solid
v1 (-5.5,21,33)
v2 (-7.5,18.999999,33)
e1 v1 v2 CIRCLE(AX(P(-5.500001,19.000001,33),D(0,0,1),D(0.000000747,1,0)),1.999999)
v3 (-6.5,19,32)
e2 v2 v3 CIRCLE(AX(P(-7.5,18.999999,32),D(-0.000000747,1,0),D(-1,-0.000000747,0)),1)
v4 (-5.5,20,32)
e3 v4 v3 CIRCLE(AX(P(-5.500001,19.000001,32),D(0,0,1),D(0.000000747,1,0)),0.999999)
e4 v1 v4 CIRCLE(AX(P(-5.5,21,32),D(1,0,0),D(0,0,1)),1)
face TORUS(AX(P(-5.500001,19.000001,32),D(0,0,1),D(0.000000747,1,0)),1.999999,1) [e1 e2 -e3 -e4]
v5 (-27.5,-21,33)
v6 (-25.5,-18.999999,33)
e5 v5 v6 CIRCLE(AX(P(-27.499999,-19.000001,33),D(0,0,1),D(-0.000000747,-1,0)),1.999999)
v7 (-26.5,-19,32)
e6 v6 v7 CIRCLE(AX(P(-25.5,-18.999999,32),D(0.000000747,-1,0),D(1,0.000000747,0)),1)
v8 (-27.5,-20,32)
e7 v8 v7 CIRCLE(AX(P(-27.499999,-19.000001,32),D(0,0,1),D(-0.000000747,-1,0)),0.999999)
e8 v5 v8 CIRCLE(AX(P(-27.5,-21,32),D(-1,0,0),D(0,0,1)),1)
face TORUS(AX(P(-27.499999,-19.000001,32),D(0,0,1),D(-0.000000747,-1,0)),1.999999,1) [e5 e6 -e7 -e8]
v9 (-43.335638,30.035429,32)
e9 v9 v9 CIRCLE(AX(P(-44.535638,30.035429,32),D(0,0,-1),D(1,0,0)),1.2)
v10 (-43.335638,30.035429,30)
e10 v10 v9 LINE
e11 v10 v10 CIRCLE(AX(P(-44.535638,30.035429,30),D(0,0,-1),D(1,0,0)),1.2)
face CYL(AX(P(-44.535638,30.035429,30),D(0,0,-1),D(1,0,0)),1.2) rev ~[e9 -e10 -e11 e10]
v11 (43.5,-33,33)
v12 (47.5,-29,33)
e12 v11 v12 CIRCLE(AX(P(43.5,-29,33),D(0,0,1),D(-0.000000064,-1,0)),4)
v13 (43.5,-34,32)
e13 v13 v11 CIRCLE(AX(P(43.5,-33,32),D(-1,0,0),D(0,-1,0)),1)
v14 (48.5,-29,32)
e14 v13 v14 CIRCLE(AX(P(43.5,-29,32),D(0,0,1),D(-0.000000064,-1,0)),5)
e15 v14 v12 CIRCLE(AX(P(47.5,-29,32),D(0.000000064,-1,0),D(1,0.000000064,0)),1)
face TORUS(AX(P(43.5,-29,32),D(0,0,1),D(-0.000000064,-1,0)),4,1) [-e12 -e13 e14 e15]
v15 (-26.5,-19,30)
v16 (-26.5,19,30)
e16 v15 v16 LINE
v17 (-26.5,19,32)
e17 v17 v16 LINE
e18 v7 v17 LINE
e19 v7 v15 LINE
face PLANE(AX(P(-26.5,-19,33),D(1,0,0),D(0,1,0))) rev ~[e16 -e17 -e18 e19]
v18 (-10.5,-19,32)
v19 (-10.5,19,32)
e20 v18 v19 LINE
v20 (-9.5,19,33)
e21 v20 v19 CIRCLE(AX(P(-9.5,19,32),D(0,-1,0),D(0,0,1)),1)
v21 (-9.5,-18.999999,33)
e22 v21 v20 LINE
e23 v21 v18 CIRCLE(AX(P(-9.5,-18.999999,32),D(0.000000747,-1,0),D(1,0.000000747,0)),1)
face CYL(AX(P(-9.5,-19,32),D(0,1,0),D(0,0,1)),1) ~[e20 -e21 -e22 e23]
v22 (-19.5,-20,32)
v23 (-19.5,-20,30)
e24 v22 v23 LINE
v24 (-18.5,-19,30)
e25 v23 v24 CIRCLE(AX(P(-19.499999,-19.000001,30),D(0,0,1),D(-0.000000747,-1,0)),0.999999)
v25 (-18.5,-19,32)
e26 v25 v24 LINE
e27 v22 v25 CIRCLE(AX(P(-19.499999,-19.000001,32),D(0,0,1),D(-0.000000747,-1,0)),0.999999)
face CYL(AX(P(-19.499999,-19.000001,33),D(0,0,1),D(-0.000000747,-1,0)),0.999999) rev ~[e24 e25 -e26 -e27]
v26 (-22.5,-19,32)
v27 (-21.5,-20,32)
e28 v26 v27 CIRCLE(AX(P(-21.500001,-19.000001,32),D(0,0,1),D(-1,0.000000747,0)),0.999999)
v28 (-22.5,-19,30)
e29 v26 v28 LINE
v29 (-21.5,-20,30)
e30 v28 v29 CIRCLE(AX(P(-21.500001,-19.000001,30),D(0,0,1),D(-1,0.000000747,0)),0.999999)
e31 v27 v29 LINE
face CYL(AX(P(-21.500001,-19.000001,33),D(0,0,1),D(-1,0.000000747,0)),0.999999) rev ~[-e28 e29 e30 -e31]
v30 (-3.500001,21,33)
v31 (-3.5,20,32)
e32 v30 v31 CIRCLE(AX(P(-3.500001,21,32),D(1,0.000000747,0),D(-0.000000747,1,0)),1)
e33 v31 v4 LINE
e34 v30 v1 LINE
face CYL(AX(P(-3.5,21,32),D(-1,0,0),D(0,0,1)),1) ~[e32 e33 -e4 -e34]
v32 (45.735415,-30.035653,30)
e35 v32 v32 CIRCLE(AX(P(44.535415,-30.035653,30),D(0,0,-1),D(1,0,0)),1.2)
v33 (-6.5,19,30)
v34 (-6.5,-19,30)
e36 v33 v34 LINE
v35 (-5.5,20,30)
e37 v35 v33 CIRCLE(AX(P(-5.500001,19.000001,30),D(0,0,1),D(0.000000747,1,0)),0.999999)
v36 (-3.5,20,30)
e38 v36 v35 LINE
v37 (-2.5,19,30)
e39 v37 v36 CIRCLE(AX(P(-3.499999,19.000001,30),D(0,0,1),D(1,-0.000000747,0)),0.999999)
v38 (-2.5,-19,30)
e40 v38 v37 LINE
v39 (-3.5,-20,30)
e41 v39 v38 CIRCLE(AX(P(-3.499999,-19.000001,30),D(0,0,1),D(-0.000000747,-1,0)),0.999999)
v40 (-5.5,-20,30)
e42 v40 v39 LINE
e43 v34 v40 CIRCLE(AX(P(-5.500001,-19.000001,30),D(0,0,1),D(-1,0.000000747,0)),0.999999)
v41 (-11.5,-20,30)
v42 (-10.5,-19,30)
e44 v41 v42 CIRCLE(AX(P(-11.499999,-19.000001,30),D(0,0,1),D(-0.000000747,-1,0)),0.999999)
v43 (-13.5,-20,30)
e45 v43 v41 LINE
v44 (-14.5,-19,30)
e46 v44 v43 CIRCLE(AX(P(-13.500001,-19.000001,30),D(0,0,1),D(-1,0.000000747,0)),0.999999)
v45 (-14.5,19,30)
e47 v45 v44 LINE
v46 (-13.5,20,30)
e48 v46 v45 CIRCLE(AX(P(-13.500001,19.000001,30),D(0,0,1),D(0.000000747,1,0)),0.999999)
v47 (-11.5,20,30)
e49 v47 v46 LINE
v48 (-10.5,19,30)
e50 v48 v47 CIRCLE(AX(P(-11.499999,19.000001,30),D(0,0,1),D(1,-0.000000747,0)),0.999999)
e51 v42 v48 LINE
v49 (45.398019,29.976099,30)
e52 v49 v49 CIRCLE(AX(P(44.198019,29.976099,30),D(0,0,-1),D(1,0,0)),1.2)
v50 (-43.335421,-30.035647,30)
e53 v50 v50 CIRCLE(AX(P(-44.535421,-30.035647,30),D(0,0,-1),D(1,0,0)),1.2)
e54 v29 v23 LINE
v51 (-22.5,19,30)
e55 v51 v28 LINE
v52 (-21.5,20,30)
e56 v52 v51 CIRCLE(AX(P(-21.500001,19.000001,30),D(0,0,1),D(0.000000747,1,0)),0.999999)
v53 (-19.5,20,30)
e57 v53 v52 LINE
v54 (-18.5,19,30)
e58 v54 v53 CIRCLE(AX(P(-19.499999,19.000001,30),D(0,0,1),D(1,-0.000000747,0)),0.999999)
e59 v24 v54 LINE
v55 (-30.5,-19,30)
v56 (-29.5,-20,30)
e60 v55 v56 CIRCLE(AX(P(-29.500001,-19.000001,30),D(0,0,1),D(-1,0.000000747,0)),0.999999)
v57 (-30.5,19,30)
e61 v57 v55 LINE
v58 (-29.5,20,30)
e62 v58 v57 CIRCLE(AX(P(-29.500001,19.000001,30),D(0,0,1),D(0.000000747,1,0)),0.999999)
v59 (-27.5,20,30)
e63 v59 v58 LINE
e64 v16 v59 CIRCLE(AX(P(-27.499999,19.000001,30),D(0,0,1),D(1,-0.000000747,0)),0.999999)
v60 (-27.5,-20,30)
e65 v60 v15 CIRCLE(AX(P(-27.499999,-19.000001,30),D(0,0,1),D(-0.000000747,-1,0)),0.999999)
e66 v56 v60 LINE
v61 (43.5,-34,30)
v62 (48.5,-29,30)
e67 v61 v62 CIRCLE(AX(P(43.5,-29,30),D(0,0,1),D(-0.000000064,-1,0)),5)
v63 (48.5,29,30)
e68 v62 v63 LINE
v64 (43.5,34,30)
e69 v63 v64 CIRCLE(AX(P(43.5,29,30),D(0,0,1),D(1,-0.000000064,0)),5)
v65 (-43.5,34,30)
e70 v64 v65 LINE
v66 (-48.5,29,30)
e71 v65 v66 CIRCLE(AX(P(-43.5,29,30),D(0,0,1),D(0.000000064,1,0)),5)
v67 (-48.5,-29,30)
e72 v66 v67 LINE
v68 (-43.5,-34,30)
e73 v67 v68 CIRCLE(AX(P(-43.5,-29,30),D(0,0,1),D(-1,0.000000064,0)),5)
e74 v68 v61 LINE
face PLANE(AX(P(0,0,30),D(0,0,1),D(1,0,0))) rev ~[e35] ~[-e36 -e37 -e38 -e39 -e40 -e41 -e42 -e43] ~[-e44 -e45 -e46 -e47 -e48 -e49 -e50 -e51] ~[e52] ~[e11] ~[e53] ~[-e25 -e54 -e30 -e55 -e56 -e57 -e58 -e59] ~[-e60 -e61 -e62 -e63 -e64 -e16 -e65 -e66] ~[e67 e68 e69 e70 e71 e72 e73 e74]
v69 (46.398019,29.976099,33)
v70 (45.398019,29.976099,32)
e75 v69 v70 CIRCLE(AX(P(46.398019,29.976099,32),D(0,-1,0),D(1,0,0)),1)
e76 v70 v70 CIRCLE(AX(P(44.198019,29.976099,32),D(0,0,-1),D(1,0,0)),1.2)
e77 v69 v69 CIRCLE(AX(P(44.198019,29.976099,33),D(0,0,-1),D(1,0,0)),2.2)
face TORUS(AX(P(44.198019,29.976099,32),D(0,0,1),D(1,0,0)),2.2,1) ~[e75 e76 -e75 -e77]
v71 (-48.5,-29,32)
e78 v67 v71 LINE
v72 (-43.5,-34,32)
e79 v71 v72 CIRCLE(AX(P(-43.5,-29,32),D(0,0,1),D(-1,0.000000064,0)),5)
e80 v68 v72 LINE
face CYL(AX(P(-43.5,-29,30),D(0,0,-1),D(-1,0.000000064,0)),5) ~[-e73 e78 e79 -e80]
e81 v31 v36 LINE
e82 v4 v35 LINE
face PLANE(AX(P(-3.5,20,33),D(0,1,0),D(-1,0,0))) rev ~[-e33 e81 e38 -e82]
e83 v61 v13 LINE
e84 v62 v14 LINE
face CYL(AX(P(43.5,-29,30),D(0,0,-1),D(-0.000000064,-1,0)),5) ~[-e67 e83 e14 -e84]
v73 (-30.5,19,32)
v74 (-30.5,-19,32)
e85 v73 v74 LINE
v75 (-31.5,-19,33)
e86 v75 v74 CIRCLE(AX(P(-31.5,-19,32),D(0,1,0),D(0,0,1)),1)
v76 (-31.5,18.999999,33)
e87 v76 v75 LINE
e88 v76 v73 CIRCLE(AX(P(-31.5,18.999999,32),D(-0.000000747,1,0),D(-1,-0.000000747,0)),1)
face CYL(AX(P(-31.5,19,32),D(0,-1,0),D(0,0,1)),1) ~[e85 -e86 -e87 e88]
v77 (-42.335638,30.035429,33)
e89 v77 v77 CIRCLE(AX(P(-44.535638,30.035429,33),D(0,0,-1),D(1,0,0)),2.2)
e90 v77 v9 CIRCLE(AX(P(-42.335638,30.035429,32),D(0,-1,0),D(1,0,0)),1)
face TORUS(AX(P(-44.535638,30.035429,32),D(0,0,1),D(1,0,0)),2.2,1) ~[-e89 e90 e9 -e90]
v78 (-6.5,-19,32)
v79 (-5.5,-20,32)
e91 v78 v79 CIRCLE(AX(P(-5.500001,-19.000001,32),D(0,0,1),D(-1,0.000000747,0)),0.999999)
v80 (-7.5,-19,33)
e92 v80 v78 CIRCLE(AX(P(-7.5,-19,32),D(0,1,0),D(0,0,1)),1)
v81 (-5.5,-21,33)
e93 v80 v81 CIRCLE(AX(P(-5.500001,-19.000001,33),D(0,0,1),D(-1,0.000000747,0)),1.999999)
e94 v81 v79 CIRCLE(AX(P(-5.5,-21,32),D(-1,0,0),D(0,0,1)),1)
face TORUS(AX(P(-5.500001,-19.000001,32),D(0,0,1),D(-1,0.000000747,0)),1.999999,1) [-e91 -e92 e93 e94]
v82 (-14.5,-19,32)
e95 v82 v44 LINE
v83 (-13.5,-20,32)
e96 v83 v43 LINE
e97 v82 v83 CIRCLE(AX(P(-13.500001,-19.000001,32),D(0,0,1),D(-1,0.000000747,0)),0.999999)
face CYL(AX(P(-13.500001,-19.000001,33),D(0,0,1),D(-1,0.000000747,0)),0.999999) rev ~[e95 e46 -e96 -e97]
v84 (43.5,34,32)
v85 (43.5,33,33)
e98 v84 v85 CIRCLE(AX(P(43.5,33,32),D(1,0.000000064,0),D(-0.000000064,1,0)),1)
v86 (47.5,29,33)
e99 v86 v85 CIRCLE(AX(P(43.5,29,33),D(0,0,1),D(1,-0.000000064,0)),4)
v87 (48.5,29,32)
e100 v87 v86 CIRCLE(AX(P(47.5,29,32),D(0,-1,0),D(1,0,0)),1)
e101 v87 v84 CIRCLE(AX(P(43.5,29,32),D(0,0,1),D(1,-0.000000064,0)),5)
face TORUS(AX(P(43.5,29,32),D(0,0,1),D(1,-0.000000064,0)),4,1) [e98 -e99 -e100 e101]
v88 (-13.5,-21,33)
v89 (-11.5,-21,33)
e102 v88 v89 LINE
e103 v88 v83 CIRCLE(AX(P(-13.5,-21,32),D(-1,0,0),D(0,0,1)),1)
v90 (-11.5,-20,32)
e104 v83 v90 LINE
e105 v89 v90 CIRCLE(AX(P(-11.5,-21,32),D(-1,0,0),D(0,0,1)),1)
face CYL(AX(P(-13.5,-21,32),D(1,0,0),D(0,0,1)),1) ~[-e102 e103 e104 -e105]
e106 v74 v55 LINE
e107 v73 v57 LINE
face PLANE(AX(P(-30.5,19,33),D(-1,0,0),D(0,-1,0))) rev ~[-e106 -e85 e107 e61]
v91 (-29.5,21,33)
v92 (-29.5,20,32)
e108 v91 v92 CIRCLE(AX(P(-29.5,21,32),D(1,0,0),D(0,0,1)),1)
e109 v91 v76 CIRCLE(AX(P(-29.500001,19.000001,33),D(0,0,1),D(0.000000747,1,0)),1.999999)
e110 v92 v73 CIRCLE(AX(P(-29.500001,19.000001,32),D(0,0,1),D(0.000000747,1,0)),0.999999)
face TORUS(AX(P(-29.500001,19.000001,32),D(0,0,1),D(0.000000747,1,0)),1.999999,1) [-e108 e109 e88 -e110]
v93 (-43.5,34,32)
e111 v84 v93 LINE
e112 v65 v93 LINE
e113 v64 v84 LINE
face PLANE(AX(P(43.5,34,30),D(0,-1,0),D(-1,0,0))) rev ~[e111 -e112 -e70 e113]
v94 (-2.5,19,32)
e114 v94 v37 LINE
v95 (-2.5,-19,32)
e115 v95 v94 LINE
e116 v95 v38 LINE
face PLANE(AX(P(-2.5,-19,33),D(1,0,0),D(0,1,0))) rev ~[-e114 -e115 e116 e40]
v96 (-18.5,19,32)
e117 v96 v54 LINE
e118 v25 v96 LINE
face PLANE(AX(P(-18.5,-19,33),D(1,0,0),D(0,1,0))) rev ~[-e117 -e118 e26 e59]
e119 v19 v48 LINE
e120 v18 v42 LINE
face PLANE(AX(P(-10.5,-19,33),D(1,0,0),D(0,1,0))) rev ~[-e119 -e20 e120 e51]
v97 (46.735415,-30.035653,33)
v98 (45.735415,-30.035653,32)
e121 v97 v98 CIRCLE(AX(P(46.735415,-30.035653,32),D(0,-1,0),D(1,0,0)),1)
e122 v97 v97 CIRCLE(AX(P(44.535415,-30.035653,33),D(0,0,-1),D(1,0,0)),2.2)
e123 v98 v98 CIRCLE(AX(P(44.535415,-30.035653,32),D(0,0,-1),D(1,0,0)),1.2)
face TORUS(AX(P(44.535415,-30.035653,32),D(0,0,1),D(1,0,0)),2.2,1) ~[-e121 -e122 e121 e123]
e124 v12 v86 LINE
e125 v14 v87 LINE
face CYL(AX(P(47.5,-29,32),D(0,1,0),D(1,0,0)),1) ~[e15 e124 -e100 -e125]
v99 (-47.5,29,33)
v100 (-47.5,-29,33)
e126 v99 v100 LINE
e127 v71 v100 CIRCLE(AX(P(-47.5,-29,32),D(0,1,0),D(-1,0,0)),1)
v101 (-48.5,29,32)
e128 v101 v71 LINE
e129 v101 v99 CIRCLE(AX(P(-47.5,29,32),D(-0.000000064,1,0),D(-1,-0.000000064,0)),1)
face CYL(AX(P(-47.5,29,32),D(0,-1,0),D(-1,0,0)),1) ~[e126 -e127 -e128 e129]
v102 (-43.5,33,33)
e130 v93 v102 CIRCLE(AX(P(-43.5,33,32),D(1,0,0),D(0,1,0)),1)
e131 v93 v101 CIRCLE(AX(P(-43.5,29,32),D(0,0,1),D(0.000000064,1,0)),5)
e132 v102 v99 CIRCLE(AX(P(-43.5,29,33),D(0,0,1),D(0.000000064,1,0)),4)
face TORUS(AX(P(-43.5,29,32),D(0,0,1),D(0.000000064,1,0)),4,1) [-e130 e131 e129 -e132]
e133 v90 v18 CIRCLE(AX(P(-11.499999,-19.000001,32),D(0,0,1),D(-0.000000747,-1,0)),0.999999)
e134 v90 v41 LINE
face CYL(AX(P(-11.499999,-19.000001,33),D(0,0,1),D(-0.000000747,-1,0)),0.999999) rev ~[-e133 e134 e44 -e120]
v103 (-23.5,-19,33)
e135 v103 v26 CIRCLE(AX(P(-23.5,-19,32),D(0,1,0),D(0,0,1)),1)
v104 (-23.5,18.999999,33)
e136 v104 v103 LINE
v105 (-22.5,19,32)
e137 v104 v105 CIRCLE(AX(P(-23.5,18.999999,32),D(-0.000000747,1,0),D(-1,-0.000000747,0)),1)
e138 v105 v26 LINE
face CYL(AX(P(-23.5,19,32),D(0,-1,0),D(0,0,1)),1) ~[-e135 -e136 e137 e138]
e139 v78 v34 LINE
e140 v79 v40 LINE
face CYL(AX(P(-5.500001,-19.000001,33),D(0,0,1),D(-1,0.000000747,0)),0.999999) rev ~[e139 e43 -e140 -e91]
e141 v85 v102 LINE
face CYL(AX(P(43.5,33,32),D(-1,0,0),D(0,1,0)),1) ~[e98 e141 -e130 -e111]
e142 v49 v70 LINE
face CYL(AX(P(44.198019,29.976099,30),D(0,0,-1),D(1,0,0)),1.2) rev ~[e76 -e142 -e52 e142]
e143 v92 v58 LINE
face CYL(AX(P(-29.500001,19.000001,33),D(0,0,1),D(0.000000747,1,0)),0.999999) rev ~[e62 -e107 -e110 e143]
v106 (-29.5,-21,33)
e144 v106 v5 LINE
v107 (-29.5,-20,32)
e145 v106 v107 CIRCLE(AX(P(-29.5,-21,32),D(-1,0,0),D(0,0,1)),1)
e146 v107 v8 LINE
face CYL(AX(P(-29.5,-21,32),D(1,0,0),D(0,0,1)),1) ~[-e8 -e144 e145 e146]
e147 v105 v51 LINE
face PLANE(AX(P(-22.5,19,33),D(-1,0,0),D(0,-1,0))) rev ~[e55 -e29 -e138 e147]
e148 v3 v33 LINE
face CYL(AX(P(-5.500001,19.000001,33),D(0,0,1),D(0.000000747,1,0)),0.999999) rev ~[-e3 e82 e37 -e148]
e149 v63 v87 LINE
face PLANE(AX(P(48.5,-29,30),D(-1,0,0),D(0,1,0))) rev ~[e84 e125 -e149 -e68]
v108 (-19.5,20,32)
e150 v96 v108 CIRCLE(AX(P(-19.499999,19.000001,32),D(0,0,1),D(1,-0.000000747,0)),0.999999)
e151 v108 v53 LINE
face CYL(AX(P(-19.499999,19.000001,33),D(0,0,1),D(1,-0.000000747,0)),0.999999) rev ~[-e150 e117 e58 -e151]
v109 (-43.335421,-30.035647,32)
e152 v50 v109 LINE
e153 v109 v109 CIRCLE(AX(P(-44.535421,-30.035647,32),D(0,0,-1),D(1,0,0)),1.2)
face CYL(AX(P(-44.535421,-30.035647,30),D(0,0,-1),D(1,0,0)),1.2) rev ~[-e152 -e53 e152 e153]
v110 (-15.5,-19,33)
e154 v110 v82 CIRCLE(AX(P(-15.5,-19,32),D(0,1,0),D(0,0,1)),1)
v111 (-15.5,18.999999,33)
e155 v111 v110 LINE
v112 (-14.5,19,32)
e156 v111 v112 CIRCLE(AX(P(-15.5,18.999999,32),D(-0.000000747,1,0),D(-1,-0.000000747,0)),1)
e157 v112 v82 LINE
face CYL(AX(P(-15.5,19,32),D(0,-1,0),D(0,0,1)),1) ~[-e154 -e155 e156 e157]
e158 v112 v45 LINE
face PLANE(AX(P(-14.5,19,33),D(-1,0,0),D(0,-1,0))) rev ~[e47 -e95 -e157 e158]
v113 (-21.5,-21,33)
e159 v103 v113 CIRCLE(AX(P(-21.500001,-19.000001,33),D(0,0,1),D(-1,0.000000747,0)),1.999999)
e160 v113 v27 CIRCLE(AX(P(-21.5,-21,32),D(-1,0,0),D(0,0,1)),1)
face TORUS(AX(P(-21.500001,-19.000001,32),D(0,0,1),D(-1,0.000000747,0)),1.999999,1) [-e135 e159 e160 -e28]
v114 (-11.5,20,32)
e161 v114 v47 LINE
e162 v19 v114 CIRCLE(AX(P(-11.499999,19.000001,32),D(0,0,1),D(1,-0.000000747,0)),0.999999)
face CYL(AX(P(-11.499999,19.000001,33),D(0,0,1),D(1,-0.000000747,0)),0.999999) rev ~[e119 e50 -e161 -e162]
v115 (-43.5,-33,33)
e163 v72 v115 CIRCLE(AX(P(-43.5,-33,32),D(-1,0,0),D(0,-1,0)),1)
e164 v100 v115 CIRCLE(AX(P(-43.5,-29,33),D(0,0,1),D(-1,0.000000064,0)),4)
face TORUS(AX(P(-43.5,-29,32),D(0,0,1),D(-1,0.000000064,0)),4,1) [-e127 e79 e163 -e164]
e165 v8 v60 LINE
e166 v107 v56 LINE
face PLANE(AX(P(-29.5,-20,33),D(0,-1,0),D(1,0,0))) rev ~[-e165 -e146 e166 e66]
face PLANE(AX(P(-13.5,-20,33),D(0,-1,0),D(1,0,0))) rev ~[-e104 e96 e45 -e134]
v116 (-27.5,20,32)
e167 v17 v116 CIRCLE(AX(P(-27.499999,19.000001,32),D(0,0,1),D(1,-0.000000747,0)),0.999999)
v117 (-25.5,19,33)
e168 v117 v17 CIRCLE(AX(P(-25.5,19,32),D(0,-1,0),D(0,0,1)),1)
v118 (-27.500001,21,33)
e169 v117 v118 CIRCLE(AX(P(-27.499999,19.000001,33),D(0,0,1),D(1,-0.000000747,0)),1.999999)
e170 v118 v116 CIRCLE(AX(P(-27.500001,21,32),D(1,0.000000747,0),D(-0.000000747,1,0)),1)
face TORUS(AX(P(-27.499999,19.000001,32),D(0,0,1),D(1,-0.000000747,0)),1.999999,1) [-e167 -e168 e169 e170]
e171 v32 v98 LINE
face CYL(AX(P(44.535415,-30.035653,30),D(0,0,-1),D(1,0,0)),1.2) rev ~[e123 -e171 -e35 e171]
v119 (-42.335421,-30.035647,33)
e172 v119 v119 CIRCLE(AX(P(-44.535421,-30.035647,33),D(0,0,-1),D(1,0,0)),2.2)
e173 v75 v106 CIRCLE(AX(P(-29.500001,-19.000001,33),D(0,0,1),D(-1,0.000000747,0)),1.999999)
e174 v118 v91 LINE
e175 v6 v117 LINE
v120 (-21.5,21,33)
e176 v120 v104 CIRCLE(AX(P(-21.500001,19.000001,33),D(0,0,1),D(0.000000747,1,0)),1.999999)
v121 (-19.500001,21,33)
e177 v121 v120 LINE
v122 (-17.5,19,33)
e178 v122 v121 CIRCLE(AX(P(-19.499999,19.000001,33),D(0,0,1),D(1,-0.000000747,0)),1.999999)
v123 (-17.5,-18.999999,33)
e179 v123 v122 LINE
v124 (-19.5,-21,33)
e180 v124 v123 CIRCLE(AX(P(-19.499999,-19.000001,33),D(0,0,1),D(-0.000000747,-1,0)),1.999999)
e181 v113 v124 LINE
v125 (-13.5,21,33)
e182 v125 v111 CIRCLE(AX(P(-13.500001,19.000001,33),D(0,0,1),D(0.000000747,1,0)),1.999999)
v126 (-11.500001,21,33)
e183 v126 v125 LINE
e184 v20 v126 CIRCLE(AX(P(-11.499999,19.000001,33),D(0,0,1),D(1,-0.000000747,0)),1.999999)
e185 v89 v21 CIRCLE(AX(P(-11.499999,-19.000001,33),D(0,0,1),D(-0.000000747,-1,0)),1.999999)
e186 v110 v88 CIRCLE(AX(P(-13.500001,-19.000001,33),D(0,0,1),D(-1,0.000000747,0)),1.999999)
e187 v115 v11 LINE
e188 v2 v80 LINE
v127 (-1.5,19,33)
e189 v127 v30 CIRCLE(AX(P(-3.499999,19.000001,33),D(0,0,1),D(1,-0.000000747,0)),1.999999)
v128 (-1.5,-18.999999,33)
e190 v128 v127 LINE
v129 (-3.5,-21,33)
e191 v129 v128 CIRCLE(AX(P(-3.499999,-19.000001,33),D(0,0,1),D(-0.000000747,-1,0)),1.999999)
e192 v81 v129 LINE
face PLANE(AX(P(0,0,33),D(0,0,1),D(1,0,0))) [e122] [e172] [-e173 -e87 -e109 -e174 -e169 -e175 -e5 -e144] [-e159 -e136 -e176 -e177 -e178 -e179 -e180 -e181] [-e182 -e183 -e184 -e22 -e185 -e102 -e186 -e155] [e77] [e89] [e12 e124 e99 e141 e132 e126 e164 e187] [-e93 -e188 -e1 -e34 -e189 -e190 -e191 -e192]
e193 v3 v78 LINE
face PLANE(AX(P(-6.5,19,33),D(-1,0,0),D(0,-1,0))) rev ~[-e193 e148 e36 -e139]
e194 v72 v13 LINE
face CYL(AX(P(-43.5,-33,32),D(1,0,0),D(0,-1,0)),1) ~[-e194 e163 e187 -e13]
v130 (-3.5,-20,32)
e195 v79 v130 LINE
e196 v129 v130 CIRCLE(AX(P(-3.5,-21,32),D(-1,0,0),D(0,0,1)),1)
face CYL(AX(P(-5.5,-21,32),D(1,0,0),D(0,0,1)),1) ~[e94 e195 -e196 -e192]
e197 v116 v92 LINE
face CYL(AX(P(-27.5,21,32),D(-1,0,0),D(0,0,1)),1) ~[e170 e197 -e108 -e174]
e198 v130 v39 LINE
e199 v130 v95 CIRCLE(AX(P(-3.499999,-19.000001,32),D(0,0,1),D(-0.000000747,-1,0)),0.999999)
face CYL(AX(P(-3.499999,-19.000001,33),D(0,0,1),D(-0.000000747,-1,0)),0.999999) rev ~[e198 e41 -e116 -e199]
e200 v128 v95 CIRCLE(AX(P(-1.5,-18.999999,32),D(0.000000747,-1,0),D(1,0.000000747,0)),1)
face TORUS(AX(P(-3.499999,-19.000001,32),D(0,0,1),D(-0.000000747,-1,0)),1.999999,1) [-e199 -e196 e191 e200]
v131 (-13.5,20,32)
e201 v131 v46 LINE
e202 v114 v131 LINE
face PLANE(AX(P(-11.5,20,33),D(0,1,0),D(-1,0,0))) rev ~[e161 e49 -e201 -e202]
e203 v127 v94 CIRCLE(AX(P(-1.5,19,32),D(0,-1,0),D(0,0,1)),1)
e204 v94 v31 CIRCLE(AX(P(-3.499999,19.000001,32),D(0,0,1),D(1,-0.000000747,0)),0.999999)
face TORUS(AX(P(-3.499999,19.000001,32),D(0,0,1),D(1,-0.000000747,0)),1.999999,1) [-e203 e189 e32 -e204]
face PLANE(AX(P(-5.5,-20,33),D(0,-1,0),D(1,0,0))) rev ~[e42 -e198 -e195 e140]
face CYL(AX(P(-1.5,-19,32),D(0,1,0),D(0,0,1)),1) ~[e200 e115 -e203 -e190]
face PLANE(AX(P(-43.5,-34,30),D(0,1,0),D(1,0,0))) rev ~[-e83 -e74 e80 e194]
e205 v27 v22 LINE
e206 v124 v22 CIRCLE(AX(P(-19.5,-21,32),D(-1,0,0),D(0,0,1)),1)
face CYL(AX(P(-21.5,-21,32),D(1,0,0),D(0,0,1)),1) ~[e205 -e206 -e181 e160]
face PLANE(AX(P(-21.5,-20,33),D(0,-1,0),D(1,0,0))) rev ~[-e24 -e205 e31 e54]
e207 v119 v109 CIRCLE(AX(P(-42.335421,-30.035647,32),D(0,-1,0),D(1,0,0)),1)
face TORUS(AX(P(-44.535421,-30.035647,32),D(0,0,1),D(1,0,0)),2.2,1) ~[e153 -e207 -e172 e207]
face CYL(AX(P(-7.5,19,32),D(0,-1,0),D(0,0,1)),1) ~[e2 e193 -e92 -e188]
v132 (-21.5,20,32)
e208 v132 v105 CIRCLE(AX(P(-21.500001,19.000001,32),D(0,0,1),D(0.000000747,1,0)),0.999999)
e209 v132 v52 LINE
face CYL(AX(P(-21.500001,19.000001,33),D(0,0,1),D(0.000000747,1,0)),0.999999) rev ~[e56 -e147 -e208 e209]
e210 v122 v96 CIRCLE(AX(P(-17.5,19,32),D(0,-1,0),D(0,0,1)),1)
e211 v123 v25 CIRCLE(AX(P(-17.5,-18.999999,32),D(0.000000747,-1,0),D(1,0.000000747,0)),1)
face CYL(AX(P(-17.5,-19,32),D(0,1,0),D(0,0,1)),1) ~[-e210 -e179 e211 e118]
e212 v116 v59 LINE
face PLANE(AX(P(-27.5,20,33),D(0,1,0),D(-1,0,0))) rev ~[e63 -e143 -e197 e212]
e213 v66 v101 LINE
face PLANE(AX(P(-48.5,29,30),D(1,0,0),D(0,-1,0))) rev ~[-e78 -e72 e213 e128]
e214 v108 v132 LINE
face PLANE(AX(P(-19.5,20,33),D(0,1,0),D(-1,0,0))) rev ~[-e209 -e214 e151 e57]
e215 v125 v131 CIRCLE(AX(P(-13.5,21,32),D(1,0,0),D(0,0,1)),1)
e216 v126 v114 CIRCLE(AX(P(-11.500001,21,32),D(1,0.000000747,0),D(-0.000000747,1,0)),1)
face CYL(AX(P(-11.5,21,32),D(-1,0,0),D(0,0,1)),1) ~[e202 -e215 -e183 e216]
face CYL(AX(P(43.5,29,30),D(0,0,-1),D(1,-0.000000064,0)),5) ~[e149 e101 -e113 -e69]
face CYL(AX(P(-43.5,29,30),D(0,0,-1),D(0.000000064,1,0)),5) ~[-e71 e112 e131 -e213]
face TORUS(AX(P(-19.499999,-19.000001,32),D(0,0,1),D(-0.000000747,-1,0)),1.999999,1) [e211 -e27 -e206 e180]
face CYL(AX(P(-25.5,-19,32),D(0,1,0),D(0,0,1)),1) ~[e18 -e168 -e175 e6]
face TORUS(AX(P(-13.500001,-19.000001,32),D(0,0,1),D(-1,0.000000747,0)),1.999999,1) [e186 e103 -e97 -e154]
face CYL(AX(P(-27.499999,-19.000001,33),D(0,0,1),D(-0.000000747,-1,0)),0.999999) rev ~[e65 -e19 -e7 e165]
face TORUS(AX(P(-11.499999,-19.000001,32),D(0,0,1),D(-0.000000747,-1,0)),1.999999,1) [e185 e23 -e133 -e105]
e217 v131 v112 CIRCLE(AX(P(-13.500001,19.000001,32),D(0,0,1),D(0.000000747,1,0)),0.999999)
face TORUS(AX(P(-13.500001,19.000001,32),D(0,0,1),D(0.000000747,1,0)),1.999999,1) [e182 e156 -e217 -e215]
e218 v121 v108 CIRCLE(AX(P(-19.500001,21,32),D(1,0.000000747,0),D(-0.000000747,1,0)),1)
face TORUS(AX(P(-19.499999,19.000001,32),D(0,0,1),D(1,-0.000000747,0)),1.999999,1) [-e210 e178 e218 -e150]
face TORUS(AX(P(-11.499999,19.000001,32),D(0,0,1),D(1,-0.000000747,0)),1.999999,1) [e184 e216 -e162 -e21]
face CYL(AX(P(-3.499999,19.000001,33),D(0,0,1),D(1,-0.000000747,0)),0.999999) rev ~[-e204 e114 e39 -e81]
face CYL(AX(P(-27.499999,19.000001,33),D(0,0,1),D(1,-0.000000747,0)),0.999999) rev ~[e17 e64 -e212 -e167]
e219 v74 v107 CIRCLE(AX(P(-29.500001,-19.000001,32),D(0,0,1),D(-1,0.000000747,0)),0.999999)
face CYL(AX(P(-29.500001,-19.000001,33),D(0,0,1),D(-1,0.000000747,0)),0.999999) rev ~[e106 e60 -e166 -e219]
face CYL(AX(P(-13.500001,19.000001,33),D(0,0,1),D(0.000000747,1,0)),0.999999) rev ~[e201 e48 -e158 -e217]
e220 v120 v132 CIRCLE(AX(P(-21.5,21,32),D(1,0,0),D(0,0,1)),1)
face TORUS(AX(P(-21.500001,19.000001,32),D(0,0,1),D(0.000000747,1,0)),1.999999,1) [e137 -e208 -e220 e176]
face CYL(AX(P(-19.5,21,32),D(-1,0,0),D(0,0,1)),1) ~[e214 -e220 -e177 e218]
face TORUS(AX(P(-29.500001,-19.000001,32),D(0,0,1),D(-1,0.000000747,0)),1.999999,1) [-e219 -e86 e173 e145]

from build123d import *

# Parameters (mm, degrees)
PAD003_DEPTH    = 3
POCKET004_DEPTH = 5
SKETCH014_R     = 1.2
HOLE002_DEPTH   = 25
FILLET001_R     = 1


with BuildPart() as part:
    # Sketch010 → Pad003 (new body)
    with BuildSketch(Plane.XY):
        with BuildLine():
            Line((-43.5, -34), (43.5, -34))
            ThreePointArc((43.5, -34), (47.035534, -32.535534), (48.5, -29))
            Line((48.5, -29), (48.5, 29))
            ThreePointArc((48.5, 29), (47.035534, 32.535534), (43.5, 34))
            Line((43.5, 34), (-43.5, 34))
            ThreePointArc((-43.5, 34), (-47.035534, 32.535534), (-48.5, 29))
            Line((-48.5, 29), (-48.5, -29))
            ThreePointArc((-48.5, -29), (-47.035534, -32.535534), (-43.5, -34))
        make_face()
    extrude(amount=PAD003_DEPTH)

    # Sketch012 → Pocket004 (cut)
    with BuildSketch(Plane.XY.offset(3)):
        with BuildLine():
            Line((-29.5, -20), (-27.5, -20))
            ThreePointArc((-27.5, -20), (-26.792893, -19.707107), (-26.5, -19))
            Line((-26.5, -19), (-26.5, 19))
            ThreePointArc((-26.5, 19), (-26.792893, 19.707107), (-27.5, 20))
            Line((-27.5, 20), (-29.5, 20))
            ThreePointArc((-29.5, 20), (-30.207107, 19.707107), (-30.5, 19))
            Line((-30.5, 19), (-30.5, -19))
            ThreePointArc((-30.5, -19), (-30.207107, -19.707107), (-29.5, -20))
        make_face()
        with BuildLine():
            Line((-21.5, -20), (-19.5, -20))
            ThreePointArc((-19.5, -20), (-18.792893, -19.707107), (-18.5, -19))
            Line((-18.5, -19), (-18.5, 19))
            ThreePointArc((-18.5, 19), (-18.792893, 19.707107), (-19.5, 20))
            Line((-19.5, 20), (-21.5, 20))
            ThreePointArc((-21.5, 20), (-22.207107, 19.707107), (-22.5, 19))
            Line((-22.5, 19), (-22.5, -19))
            ThreePointArc((-22.5, -19), (-22.207107, -19.707107), (-21.5, -20))
        make_face()
        with BuildLine():
            Line((-13.5, -20), (-11.5, -20))
            ThreePointArc((-11.5, -20), (-10.792893, -19.707107), (-10.5, -19))
            Line((-10.5, -19), (-10.5, 19))
            ThreePointArc((-10.5, 19), (-10.792893, 19.707107), (-11.5, 20))
            Line((-11.5, 20), (-13.5, 20))
            ThreePointArc((-13.5, 20), (-14.207107, 19.707107), (-14.5, 19))
            Line((-14.5, 19), (-14.5, -19))
            ThreePointArc((-14.5, -19), (-14.207107, -19.707107), (-13.5, -20))
        make_face()
        with BuildLine():
            Line((-5.5, -20), (-3.5, -20))
            ThreePointArc((-3.5, -20), (-2.792893, -19.707107), (-2.5, -19))
            Line((-2.5, -19), (-2.5, 19))
            ThreePointArc((-2.5, 19), (-2.792893, 19.707107), (-3.5, 20))
            Line((-3.5, 20), (-5.5, 20))
            ThreePointArc((-5.5, 20), (-6.207107, 19.707107), (-6.5, 19))
            Line((-6.5, 19), (-6.5, -19))
            ThreePointArc((-6.5, -19), (-6.207107, -19.707107), (-5.5, -20))
        make_face()
    extrude(amount=-POCKET004_DEPTH, mode=Mode.SUBTRACT)

    # Sketch014 (on Face4 of Pocket004) → Hole002 (cut)
    with BuildSketch(Plane(origin=(0, 0, 0), x_dir=(1, 0, 0), z_dir=(0, 0, -1))):
        with Locations((-44.535638, -30.035429)):
            Circle(SKETCH014_R)
        with Locations((44.198019, -29.976099)):
            Circle(SKETCH014_R)
        with Locations((44.535415, 30.035653)):
            Circle(SKETCH014_R)
        with Locations((-44.535421, 30.035647)):
            Circle(SKETCH014_R)
    extrude(amount=-HOLE002_DEPTH, mode=Mode.SUBTRACT)

    # Fillet001
    fillet001_edges = [part.edges().sort_by_distance(p)[0] for p in [
        (0, -34, 3),
        (-47.035534, -32.535534, 3),
        (47.035534, -32.535534, 3),
        (-48.5, 0, 3),
        (48.5, 0, 3),
        (-47.035534, 32.535534, 3),
        (47.035534, 32.535534, 3),
        (0, 34, 3),
        (-43.335421, -30.035647, 3),
        (45.735415, -30.035653, 3),
        (-28.5, -20, 3),
        (-30.207107, -19.707107, 3),
        (-26.792893, -19.707107, 3),
        (-30.5, 0, 3),
        (-26.5, 0, 3),
        (-30.207107, 19.707107, 3),
        (-26.792893, 19.707107, 3),
        (-28.5, 20, 3),
        (-20.5, -20, 3),
        (-22.207107, -19.707107, 3),
        (-18.792893, -19.707107, 3),
        (-22.5, 0, 3),
        (-18.5, 0, 3),
        (-22.207107, 19.707107, 3),
        (-18.792893, 19.707107, 3),
        (-20.5, 20, 3),
        (-12.5, -20, 3),
        (-14.207107, -19.707107, 3),
        (-10.792893, -19.707107, 3),
        (-14.5, 0, 3),
        (-10.5, 0, 3),
        (-14.207107, 19.707107, 3),
        (-10.792893, 19.707107, 3),
        (-12.5, 20, 3),
        (-4.5, -20, 3),
        (-6.207107, -19.707107, 3),
        (-2.792893, -19.707107, 3),
        (-6.5, 0, 3),
        (-2.5, 0, 3),
        (-6.207107, 19.707107, 3),
        (-2.792893, 19.707107, 3),
        (-4.5, 20, 3),
        (-43.335638, 30.035429, 3),
        (45.398019, 29.976099, 3),
    ]]
    fillet(fillet001_edges, radius=FILLET001_R)


with BuildPart() as part_1:
    # Body001 placement: moved
    add(part.part.moved(Location((0, 0, 30))))


solid = part_1.part
